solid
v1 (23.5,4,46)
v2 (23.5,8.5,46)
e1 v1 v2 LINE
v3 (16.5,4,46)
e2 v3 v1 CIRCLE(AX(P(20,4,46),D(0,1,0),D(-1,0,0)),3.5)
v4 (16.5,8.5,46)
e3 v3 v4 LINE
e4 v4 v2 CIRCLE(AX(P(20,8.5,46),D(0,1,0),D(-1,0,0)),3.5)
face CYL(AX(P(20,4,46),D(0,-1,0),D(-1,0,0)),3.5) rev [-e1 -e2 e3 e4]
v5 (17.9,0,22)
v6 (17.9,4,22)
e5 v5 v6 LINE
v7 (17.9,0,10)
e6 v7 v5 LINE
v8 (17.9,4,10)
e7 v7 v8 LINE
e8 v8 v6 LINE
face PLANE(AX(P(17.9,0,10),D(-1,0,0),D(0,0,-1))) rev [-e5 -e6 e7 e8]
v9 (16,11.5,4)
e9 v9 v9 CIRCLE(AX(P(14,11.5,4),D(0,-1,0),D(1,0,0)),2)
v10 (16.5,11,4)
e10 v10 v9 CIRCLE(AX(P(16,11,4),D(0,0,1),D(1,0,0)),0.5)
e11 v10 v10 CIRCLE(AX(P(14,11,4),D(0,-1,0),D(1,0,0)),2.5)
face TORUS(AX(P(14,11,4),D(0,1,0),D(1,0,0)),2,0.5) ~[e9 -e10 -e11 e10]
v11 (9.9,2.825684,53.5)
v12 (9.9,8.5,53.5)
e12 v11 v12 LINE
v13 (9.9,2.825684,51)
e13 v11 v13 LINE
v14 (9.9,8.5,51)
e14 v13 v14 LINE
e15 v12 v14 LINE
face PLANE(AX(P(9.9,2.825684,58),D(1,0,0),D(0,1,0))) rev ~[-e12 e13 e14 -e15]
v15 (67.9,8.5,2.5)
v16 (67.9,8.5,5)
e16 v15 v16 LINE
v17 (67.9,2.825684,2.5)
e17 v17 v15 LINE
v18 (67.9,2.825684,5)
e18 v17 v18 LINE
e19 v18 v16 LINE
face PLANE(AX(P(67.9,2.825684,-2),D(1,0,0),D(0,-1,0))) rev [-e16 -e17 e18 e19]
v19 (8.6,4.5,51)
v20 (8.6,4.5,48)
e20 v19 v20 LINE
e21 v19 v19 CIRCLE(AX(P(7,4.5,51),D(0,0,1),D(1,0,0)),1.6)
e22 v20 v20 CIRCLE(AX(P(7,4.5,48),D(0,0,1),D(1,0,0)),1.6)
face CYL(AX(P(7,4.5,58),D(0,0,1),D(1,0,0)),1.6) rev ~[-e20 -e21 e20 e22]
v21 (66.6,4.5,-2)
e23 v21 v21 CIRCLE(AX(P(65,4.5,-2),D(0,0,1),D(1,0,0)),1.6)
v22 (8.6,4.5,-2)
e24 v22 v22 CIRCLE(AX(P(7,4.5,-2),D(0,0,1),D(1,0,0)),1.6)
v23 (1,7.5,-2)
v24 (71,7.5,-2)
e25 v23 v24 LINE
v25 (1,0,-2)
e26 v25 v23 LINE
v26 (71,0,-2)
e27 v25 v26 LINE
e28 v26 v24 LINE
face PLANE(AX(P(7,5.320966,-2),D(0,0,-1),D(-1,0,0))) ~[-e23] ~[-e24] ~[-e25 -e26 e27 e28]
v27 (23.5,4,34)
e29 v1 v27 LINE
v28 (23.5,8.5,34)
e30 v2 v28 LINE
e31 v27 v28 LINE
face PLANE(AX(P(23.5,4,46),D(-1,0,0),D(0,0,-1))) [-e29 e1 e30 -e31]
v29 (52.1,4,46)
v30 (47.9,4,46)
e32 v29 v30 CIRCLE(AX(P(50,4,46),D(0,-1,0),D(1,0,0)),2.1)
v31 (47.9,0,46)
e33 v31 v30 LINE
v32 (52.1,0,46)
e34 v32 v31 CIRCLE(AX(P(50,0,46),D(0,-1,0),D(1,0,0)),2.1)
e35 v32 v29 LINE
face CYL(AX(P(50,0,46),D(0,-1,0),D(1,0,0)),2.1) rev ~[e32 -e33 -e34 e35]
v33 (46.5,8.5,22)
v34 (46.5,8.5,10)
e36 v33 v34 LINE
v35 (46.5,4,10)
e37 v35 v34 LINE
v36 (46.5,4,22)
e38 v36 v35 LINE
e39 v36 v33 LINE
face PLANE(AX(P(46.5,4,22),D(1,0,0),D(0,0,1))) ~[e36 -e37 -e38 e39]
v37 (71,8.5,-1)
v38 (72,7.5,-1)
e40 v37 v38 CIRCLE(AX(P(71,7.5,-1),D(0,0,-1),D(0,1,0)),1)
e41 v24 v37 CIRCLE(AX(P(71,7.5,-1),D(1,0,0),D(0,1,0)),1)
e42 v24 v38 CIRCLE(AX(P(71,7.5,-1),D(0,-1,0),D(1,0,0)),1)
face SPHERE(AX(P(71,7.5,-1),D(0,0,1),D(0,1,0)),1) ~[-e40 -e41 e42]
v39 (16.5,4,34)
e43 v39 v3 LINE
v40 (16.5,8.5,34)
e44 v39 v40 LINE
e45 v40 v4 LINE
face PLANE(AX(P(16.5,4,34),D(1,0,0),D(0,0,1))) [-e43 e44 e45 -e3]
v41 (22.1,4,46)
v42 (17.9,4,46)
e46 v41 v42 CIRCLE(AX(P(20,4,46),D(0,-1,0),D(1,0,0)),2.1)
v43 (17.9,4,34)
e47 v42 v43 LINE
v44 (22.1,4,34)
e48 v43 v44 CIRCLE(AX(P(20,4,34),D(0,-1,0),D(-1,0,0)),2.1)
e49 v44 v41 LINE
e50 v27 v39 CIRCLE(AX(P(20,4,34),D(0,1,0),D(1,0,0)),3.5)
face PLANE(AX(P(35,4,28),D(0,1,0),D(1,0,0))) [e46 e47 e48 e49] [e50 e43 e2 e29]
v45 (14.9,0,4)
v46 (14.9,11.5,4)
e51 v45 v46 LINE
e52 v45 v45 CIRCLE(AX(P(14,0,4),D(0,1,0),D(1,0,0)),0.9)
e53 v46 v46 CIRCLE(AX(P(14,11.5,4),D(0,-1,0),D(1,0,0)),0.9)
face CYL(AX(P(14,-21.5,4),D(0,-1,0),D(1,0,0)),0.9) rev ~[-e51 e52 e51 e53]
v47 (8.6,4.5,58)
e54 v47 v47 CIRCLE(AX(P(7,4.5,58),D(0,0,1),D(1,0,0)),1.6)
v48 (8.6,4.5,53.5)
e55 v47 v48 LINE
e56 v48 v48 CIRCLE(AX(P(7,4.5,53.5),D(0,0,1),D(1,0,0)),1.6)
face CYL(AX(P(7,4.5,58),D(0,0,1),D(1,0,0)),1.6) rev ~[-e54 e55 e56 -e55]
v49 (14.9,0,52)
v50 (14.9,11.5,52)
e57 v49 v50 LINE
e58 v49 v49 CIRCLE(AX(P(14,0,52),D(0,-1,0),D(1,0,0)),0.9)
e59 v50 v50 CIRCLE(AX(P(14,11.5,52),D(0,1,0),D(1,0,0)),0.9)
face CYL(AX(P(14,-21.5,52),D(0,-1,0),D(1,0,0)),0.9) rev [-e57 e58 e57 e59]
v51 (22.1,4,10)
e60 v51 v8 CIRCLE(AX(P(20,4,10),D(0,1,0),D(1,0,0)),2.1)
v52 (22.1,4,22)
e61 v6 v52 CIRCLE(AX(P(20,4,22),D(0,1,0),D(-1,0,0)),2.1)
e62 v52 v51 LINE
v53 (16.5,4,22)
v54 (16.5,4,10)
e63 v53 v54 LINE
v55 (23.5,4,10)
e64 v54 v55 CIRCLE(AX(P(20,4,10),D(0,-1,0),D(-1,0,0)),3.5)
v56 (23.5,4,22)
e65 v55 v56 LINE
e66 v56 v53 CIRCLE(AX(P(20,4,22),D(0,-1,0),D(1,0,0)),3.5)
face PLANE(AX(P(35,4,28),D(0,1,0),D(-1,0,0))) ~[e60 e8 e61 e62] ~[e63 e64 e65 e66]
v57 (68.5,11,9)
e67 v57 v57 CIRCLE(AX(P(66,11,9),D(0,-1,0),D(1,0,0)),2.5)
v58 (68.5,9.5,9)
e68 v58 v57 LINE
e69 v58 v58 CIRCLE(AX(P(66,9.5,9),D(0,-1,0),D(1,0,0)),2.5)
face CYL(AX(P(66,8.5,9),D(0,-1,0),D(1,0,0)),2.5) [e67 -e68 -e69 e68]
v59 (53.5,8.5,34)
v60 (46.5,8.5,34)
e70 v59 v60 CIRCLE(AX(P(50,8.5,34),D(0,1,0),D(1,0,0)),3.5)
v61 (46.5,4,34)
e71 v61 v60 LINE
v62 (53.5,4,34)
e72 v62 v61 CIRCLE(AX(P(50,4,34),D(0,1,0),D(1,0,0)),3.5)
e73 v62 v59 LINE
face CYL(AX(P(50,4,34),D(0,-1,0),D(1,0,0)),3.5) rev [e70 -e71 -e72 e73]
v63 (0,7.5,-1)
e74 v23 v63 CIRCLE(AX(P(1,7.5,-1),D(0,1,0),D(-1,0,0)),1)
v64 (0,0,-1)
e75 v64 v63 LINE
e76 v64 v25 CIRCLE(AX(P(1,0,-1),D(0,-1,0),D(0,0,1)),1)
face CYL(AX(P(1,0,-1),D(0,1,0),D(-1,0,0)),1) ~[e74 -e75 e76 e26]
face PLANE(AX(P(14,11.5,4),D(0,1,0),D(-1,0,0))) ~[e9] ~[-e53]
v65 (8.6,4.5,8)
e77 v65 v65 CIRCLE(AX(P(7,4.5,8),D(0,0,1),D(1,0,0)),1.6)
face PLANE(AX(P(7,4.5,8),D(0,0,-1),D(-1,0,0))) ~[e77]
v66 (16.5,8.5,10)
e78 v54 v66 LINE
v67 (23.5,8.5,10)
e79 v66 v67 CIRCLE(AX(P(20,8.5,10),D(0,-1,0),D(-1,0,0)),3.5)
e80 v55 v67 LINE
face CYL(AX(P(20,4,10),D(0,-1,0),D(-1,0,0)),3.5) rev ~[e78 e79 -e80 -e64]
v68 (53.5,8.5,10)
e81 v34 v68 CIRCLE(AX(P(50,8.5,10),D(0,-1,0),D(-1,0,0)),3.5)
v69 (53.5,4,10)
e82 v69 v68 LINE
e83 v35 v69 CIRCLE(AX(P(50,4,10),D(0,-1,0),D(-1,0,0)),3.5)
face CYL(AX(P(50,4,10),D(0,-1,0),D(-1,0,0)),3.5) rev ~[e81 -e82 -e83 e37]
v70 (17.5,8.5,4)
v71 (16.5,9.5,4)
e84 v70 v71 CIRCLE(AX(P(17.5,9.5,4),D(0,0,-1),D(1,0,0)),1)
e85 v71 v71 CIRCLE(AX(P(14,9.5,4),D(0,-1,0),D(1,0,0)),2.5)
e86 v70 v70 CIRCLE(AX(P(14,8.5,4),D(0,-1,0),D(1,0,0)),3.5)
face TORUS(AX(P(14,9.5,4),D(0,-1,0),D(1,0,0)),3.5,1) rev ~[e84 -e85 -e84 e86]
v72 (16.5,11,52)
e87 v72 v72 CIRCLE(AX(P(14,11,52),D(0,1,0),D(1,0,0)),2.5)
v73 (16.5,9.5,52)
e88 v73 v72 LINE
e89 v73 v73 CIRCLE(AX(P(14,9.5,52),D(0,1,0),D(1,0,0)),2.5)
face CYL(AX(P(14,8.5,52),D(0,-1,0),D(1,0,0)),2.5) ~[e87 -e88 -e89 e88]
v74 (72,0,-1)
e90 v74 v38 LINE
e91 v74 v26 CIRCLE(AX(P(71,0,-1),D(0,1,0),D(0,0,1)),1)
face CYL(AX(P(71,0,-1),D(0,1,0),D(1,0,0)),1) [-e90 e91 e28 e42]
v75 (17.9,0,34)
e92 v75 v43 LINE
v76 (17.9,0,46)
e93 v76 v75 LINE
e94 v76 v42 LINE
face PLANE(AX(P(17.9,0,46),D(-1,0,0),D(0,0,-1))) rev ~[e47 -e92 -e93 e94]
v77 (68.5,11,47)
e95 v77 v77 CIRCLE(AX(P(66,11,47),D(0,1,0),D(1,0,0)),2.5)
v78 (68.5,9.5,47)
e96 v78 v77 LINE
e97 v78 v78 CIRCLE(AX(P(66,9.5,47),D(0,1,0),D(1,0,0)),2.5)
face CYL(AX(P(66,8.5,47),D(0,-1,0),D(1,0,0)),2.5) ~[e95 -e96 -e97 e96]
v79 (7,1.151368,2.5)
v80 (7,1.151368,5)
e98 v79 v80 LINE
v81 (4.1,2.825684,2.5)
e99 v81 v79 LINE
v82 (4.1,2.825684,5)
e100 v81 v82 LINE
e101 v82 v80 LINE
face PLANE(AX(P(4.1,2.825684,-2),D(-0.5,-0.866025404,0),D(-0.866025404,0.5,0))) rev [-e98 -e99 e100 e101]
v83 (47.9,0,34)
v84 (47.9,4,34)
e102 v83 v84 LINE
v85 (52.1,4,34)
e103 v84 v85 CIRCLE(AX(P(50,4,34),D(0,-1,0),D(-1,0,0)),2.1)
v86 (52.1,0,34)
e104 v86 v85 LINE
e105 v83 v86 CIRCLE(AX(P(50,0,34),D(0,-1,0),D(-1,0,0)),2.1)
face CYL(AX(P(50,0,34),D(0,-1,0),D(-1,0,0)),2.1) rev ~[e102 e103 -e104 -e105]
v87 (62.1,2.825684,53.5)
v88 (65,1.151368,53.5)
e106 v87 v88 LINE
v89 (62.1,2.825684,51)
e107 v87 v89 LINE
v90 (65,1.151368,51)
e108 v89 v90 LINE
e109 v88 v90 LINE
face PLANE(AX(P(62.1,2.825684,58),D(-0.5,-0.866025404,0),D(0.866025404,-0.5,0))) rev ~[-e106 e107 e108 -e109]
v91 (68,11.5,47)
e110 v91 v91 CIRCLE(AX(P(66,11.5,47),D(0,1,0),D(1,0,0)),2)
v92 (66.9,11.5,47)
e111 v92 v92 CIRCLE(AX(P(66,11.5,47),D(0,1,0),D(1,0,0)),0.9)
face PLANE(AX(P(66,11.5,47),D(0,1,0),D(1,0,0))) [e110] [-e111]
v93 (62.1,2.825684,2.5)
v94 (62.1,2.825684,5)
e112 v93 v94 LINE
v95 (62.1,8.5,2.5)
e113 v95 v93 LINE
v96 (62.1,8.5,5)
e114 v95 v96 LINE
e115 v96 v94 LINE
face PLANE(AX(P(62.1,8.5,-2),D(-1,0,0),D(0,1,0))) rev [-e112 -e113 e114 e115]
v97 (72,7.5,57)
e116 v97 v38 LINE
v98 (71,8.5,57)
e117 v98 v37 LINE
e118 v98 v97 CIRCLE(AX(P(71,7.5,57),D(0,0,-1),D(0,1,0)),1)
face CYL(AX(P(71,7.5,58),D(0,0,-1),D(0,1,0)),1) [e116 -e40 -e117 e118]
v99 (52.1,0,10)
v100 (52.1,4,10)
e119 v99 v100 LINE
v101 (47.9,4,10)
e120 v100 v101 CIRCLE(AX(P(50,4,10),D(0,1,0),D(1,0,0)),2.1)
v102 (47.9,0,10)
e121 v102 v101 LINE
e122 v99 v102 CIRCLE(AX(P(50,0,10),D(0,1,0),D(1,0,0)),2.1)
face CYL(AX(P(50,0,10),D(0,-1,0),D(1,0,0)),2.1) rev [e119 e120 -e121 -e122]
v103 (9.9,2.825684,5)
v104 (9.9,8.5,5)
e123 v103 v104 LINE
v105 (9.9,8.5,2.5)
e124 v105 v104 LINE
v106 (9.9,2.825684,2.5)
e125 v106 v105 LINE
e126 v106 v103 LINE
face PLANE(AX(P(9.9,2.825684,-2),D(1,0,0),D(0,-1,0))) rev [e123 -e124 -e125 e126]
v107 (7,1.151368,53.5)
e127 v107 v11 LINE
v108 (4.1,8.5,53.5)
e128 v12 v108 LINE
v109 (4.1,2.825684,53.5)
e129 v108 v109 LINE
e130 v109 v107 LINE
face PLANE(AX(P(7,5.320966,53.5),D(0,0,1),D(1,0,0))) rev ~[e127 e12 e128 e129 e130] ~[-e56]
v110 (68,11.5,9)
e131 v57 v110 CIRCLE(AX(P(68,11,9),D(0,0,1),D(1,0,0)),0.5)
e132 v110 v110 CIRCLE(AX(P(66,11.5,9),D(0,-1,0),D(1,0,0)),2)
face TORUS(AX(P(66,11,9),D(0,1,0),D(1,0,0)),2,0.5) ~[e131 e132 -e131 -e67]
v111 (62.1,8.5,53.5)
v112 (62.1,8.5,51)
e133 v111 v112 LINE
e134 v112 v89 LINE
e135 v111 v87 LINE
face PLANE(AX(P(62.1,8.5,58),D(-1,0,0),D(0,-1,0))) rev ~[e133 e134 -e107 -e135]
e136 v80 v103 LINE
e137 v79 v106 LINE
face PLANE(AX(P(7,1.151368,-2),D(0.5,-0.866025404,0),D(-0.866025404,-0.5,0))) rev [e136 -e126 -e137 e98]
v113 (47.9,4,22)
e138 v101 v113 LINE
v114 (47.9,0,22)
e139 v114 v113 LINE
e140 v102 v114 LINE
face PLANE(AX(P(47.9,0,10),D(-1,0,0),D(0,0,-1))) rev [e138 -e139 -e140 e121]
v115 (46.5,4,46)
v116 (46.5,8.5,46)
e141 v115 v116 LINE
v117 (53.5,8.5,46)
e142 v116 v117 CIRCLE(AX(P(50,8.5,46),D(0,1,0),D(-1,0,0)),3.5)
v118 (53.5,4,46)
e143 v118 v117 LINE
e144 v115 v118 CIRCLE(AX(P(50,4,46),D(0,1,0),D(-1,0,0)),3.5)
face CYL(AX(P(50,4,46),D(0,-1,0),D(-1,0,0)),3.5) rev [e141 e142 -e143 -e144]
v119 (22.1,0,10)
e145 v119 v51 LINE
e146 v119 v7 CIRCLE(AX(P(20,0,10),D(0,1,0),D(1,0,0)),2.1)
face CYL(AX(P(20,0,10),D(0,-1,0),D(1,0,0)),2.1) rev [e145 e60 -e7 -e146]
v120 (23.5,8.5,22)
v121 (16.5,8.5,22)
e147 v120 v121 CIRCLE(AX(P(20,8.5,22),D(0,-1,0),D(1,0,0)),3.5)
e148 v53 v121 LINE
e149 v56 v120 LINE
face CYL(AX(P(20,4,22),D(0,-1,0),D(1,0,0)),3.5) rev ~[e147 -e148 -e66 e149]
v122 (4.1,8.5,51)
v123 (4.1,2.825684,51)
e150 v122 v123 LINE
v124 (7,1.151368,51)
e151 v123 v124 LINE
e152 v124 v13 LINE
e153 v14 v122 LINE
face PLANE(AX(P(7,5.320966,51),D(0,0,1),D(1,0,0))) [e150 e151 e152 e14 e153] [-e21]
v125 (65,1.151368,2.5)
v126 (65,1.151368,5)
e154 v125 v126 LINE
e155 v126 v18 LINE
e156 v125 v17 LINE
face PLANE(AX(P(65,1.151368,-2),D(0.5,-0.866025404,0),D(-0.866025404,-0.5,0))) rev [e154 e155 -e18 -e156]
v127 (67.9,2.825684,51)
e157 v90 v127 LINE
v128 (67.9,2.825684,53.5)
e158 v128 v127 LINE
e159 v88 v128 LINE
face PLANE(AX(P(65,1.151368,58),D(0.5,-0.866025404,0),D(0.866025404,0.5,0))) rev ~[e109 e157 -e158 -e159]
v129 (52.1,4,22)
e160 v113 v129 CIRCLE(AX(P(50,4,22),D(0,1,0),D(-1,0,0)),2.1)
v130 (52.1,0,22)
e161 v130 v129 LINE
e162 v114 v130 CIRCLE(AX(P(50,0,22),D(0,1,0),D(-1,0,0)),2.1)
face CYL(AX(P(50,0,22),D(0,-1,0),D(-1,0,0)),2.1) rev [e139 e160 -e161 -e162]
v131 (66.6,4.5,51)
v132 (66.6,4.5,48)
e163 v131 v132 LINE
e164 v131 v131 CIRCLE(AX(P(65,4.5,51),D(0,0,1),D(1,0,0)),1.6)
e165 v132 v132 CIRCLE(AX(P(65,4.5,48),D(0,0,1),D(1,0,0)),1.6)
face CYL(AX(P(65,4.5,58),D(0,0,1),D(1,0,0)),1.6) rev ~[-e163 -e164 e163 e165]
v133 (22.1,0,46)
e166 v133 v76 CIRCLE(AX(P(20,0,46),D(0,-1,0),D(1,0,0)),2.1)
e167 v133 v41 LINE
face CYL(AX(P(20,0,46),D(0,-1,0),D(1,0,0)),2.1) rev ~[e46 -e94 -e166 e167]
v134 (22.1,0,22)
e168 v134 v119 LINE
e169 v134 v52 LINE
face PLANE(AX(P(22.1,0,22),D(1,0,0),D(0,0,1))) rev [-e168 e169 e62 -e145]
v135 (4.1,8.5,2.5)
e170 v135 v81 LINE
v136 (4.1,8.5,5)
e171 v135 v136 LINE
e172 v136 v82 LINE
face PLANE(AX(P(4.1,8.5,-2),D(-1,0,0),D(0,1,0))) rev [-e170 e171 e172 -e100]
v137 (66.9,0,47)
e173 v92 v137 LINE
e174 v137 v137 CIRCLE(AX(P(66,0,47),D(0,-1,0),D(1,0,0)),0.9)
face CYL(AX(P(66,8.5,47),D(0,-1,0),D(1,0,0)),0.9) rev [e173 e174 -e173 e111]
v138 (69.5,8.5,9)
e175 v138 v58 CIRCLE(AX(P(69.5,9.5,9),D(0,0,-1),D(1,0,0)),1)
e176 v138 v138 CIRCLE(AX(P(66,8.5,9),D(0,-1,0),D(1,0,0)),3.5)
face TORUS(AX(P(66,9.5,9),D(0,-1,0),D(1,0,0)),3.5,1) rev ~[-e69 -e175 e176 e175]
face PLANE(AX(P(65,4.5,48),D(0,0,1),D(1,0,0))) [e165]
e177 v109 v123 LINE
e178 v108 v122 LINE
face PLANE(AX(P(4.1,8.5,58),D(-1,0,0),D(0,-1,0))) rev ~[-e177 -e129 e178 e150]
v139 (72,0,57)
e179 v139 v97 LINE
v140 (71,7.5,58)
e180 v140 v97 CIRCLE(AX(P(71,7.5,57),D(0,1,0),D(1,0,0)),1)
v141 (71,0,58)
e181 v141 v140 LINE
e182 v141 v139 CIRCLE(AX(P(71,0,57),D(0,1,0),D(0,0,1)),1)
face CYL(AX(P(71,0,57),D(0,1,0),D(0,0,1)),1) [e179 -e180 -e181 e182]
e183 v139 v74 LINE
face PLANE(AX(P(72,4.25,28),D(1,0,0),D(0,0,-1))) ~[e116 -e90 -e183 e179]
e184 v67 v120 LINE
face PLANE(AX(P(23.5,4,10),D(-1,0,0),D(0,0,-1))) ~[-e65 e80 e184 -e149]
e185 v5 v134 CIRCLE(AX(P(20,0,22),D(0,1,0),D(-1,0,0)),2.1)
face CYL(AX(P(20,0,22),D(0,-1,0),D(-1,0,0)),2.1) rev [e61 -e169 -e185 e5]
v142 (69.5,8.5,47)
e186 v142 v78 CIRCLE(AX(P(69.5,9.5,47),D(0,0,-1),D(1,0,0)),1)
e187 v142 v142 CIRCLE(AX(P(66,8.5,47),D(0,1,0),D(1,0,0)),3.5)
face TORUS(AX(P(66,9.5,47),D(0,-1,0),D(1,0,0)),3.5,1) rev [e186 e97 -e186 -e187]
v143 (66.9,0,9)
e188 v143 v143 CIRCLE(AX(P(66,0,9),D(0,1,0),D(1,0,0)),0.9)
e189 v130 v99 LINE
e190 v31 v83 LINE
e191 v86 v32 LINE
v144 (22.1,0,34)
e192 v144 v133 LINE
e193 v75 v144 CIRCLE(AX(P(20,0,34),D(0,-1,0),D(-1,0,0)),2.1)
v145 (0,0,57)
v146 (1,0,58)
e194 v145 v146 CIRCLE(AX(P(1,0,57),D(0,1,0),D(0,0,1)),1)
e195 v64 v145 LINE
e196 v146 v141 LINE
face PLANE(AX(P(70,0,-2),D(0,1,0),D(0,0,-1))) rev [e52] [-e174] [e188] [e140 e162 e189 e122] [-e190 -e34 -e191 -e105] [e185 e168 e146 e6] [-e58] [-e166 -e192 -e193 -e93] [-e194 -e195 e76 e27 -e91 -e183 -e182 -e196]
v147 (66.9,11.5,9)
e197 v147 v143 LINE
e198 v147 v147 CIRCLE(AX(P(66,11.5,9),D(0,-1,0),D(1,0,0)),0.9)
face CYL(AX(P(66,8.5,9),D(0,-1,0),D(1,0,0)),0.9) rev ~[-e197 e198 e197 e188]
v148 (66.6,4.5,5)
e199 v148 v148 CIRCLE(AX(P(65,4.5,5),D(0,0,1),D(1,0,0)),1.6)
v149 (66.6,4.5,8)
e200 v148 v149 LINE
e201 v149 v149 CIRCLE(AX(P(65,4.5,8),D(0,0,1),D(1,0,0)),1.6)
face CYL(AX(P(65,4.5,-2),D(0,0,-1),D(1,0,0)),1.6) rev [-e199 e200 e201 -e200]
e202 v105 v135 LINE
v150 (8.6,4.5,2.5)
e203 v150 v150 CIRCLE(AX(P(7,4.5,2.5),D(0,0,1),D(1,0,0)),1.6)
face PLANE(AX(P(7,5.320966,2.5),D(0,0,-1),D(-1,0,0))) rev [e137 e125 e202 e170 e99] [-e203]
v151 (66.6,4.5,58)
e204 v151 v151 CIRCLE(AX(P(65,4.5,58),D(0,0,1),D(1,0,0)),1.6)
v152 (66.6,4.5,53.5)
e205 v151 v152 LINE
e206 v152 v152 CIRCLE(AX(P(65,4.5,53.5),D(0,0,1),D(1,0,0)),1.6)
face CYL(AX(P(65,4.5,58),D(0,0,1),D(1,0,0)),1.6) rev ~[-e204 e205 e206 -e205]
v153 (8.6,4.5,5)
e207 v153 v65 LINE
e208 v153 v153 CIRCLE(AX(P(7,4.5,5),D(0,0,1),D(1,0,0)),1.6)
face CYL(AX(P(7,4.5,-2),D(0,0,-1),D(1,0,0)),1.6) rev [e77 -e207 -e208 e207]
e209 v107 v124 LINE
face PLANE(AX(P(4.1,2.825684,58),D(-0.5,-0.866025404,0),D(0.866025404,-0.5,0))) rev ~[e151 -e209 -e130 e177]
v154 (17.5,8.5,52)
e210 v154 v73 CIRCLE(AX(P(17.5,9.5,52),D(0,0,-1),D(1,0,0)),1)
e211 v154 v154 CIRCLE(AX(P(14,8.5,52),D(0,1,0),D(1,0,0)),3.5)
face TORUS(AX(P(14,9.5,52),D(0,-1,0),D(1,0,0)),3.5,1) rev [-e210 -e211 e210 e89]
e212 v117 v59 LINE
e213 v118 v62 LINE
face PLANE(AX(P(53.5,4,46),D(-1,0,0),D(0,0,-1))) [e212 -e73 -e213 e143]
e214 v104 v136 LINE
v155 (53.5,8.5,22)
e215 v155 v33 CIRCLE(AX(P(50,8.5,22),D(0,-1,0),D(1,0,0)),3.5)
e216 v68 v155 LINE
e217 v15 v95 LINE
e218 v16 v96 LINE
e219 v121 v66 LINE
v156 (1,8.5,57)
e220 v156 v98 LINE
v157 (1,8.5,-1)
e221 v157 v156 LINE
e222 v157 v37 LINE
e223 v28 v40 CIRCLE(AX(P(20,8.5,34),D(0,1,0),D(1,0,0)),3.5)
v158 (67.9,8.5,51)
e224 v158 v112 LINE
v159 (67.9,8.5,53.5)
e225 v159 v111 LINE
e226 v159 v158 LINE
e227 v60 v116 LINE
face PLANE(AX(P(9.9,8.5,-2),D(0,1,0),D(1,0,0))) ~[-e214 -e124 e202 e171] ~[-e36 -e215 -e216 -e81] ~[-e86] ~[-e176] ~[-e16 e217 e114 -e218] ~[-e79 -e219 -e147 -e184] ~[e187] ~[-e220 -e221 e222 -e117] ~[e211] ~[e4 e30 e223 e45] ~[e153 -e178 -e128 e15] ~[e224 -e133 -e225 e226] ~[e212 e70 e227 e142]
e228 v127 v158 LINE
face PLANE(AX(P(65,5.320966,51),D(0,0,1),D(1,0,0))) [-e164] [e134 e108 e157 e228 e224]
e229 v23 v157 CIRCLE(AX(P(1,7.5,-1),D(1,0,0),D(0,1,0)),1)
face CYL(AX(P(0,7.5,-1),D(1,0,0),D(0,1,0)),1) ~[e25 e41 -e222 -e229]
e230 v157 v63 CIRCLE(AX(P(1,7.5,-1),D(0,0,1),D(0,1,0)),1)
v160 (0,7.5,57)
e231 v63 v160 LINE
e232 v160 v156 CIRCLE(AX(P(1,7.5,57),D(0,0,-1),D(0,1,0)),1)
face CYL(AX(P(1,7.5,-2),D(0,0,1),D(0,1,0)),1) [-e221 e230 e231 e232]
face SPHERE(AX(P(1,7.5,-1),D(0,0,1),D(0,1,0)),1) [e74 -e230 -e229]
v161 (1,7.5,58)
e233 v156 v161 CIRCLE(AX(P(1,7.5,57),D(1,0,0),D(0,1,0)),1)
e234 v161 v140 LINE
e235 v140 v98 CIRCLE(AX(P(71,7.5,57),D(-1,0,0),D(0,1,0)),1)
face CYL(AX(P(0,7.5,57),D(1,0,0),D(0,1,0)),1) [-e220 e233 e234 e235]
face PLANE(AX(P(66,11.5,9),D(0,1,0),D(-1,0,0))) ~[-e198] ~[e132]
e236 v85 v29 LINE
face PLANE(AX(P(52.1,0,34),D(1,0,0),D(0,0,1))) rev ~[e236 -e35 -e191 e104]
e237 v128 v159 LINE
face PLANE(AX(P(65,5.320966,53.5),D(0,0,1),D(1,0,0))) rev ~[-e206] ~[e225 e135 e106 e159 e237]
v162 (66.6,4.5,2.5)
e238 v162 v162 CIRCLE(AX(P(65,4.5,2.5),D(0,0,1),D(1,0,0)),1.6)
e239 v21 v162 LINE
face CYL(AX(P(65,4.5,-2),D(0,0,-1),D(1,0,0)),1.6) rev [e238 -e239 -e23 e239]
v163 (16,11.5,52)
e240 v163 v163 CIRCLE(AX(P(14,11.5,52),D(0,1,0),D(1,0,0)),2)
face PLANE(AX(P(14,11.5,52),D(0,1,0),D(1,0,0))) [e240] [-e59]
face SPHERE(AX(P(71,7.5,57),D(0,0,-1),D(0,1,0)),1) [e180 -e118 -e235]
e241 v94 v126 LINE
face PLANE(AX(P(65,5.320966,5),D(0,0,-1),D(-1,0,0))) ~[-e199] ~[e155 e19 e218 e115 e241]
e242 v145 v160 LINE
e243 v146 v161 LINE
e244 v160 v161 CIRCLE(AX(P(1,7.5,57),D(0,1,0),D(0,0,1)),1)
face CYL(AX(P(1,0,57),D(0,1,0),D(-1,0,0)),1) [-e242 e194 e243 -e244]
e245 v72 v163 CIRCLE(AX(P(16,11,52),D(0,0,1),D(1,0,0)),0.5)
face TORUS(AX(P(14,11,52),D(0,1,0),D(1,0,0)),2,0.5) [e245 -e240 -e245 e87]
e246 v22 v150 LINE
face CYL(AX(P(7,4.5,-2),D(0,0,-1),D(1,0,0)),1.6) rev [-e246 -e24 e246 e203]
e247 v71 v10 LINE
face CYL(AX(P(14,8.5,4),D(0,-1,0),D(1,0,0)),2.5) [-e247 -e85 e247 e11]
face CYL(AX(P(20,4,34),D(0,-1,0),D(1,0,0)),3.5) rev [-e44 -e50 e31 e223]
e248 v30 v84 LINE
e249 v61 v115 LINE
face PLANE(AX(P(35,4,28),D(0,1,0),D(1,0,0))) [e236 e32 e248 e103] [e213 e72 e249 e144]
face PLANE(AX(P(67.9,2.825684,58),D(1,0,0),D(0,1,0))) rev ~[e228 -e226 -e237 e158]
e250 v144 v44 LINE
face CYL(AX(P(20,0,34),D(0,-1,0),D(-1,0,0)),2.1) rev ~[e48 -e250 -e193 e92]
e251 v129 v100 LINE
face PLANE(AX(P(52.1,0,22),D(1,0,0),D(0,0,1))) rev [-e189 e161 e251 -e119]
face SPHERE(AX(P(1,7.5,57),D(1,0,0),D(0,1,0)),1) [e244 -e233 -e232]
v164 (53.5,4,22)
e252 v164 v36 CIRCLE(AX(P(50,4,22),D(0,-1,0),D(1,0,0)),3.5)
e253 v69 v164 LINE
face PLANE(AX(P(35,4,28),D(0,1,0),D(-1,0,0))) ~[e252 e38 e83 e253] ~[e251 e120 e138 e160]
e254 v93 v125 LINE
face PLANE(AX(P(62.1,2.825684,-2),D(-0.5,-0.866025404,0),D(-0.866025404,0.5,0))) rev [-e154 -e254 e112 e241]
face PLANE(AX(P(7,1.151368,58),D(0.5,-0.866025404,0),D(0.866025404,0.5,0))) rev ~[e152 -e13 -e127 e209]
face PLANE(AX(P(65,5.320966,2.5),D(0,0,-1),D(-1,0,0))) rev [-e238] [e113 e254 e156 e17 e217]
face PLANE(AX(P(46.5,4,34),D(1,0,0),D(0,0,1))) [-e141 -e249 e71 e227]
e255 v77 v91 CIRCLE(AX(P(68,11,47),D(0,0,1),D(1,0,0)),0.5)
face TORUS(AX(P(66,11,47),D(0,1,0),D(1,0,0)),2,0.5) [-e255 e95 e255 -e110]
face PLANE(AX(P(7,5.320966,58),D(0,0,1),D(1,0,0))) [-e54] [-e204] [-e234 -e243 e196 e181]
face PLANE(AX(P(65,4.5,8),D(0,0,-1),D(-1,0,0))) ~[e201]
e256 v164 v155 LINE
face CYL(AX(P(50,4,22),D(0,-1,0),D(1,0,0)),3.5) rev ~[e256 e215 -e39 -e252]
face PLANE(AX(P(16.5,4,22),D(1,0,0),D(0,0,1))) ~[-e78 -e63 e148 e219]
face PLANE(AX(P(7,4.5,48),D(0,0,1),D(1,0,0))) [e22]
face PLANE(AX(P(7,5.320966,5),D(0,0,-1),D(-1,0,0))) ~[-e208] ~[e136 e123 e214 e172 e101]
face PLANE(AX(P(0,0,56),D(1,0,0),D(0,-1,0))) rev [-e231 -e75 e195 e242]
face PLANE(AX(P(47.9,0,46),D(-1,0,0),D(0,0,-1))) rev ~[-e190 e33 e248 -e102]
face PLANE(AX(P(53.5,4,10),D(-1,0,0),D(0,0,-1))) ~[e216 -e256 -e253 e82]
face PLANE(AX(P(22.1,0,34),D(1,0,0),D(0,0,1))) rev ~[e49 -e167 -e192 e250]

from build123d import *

# Parameters (mm, degrees)
SKETCH1_W           = 70
SKETCH1_H           = 56
BOSS_EXTRUDE1_DEPTH = 4
SKETCH2_W           = 70
SKETCH2_H           = 56
BOSS_EXTRUDE2_DEPTH = 4.5
SKETCH5_W           = 70
SKETCH5_H           = 8.5
BOSS_EXTRUDE3_DEPTH = 2
SKETCH6_W           = 70
SKETCH6_H           = 8.5
BOSS_EXTRUDE4_DEPTH = 2
SKETCH7_R           = 2.5
SKETCH7_R_2         = 0.9
BOSS_EXTRUDE5_DEPTH = 3
FILLET2_R           = 1
FILLET4_R           = 0.5
CUT_EXTRUDE6_START  = -30
SKETCH7_4_R         = 0.9
CUT_EXTRUDE6_DEPTH  = 30
SKETCH8_W           = 60
SKETCH8_H           = 8.5
BOSS_EXTRUDE6_DEPTH = 2
CUT_EXTRUDE2_DEPTH  = 7
SKETCH9_8_R         = 1.6
BOSS_EXTRUDE8_DEPTH = 4.5
SKETCH9_9_R         = 1.6
CUT_EXTRUDE4_DEPTH  = 10
SKETCH11_W          = 74.912856335
SKETCH11_H          = 22.458830191
CUT_EXTRUDE5_DEPTH  = 30
FILLET5_R           = 1


with BuildPart() as part:
    # Sketch1 → Boss-Extrude1 (new body)
    with BuildSketch(Plane(origin=(0, 0, 0), x_dir=(1, 0, 0), z_dir=(0, 1, 0))):
        with Locations((35, -28)):
            Rectangle(SKETCH1_W, SKETCH1_H)
        with BuildLine():
            ThreePointArc((52.1, -22), (50, -24.1), (47.9, -22))
            Line((47.9, -22), (47.9, -10))
            ThreePointArc((47.9, -10), (50, -7.9), (52.1, -10))
            Line((52.1, -10), (52.1, -22))
        make_face(mode=Mode.SUBTRACT)
        with BuildLine():
            ThreePointArc((52.1, -46), (50, -48.1), (47.9, -46))
            Line((47.9, -46), (47.9, -34))
            ThreePointArc((47.9, -34), (50, -31.9), (52.1, -34))
            Line((52.1, -34), (52.1, -46))
        make_face(mode=Mode.SUBTRACT)
        with BuildLine():
            ThreePointArc((17.9, -10), (20, -7.9), (22.1, -10))
            Line((22.1, -10), (22.1, -22))
            ThreePointArc((22.1, -22), (20, -24.1), (17.9, -22))
            Line((17.9, -22), (17.9, -10))
        make_face(mode=Mode.SUBTRACT)
        with BuildLine():
            Line((22.1, -34), (22.1, -46))
            ThreePointArc((22.1, -46), (20, -48.1), (17.9, -46))
            Line((17.9, -46), (17.9, -34))
            ThreePointArc((17.9, -34), (20, -31.9), (22.1, -34))
        make_face(mode=Mode.SUBTRACT)
    extrude(amount=BOSS_EXTRUDE1_DEPTH)

    # Sketch2 → Boss-Extrude2 (add)
    with BuildSketch(Plane(origin=(0, 4, 0), x_dir=(1, 0, 0), z_dir=(0, 1, 0))):
        with Locations((35, -28)):
            Rectangle(SKETCH2_W, SKETCH2_H)
        with BuildLine():
            Line((23.5, -22), (23.5, -10))
            ThreePointArc((23.5, -10), (20, -6.5), (16.5, -10))
            Line((16.5, -10), (16.5, -22))
            ThreePointArc((16.5, -22), (20, -25.5), (23.5, -22))
        make_face(mode=Mode.SUBTRACT)
        with BuildLine():
            Line((46.5, -10), (46.5, -22))
            ThreePointArc((46.5, -22), (50, -25.5), (53.5, -22))
            Line((53.5, -22), (53.5, -10))
            ThreePointArc((53.5, -10), (50, -6.5), (46.5, -10))
        make_face(mode=Mode.SUBTRACT)
        with BuildLine():
            Line((16.5, -34), (16.5, -46))
            ThreePointArc((16.5, -46), (20, -49.5), (23.5, -46))
            Line((23.5, -46), (23.5, -34))
            ThreePointArc((23.5, -34), (20, -30.5), (16.5, -34))
        make_face(mode=Mode.SUBTRACT)
        with BuildLine():
            Line((46.5, -34), (46.5, -46))
            ThreePointArc((46.5, -46), (50, -49.5), (53.5, -46))
            Line((53.5, -46), (53.5, -34))
            ThreePointArc((53.5, -34), (50, -30.5), (46.5, -34))
        make_face(mode=Mode.SUBTRACT)
    extrude(amount=BOSS_EXTRUDE2_DEPTH)

    # Sketch5 → Boss-Extrude3 (add)
    with BuildSketch(Plane.XY.offset(56)):
        with Locations((35, 4.25)):
            Rectangle(SKETCH5_W, SKETCH5_H)
    extrude(amount=BOSS_EXTRUDE3_DEPTH)

    # Sketch6 → Boss-Extrude4 (add)
    with BuildSketch(Plane(origin=(0, 0, 0), x_dir=(-1, 0, 0), z_dir=(0, 0, -1))):
        with Locations((-35, 4.25)):
            Rectangle(SKETCH6_W, SKETCH6_H)
    extrude(amount=BOSS_EXTRUDE4_DEPTH)

    # Sketch7 → Boss-Extrude5 (add)
    # profile 1 of 4: a face of its own
    with BuildSketch(Plane(origin=(0, 8.5, 0), x_dir=(1, 0, 0), z_dir=(0, 1, 0))):
        with Locations((14, -4)):
            Circle(SKETCH7_R)
        with Locations((14, -4)):
            Circle(SKETCH7_R_2, mode=Mode.SUBTRACT)
    # profile 2 of 4: a face of its own
    with BuildSketch(Plane(origin=(0, 8.5, 0), x_dir=(1, 0, 0), z_dir=(0, 1, 0))):
        with Locations((14, -52)):
            Circle(SKETCH7_R)
        with Locations((14, -52)):
            Circle(SKETCH7_R_2, mode=Mode.SUBTRACT)
    # profile 3 of 4: a face of its own
    with BuildSketch(Plane(origin=(0, 8.5, 0), x_dir=(1, 0, 0), z_dir=(0, 1, 0))):
        with Locations((66, -47)):
            Circle(SKETCH7_R)
        with Locations((66, -47)):
            Circle(SKETCH7_R_2, mode=Mode.SUBTRACT)
    # profile 4 of 4: a face of its own
    with BuildSketch(Plane(origin=(0, 8.5, 0), x_dir=(1, 0, 0), z_dir=(0, 1, 0))):
        with Locations((39.372259971, -13.674819386)):
            Circle(SKETCH7_R)
    extrude(amount=BOSS_EXTRUDE5_DEPTH)

    # Fillet2
    fillet2_edges = [part.edges().sort_by_distance(p)[0] for p in [
        (63.5, 8.5, 47),
        (36.872259971, 8.5, 13.674819386),
        (11.5, 8.5, 52),
        (11.5, 8.5, 4),
    ]]
    fillet(fillet2_edges, radius=FILLET2_R)

    # Fillet4
    fillet4_edges = [part.edges().sort_by_distance(p)[0] for p in [
        (63.5, 11.5, 47),
        (36.872259971, 11.5, 13.674819386),
        (11.5, 11.5, 52),
        (11.5, 11.5, 4),
    ]]
    fillet(fillet4_edges, radius=FILLET4_R)

    # Sketch7<4> → Cut-Extrude6 (cut)
    with BuildSketch(Plane(origin=(0, 8.5, 0), x_dir=(1, 0, 0), z_dir=(0, 1, 0)).offset(CUT_EXTRUDE6_START)):
        with Locations((14, -52)):
            Circle(SKETCH7_4_R)
        with Locations((66, -47)):
            Circle(SKETCH7_4_R)
    extrude(amount=CUT_EXTRUDE6_DEPTH, mode=Mode.SUBTRACT)

    # Sketch8 → Boss-Extrude6 (add)
    with BuildSketch(Plane(origin=(70, 0, 0), x_dir=(0, 0, -1), z_dir=(1, 0, 0))):
        with Locations((-28, 4.25)):
            Rectangle(SKETCH8_W, SKETCH8_H)
    extrude(amount=BOSS_EXTRUDE6_DEPTH)

    # Sketch9 → Cut-Extrude2 (cut)
    with BuildSketch(Plane.XY.offset(58)):
        Polygon((4.1, 2.825684219), (7, 1.151368439), (9.9, 2.825684219), (9.9, 8.5), (4.1, 8.5), align=None)
        Polygon((67.9, 8.5), (62.1, 8.5), (62.1, 2.825684219), (65, 1.151368439), (67.9, 2.825684219), align=None)
    extrude(amount=-CUT_EXTRUDE2_DEPTH, mode=Mode.SUBTRACT)

    # Sketch9<8> → Boss-Extrude8 (add)
    # profile 1 of 2: a face of its own
    with BuildSketch(Plane.XY.offset(58)):
        Polygon((4.1, 2.825684219), (7, 1.151368439), (9.9, 2.825684219), (9.9, 8.5), (4.1, 8.5), align=None)
        with Locations((7, 4.5)):
            Circle(SKETCH9_8_R, mode=Mode.SUBTRACT)
    # profile 2 of 2: a face of its own
    with BuildSketch(Plane.XY.offset(58)):
        Polygon((67.9, 8.5), (62.1, 8.5), (62.1, 2.825684219), (65, 1.151368439), (67.9, 2.825684219), align=None)
        with Locations((65, 4.5)):
            Circle(SKETCH9_8_R, mode=Mode.SUBTRACT)
    extrude(amount=-BOSS_EXTRUDE8_DEPTH)

    # Sketch9<9> → Cut-Extrude4 (cut)
    with BuildSketch(Plane.XY.offset(58)):
        with Locations((7, 4.5)):
            Circle(SKETCH9_9_R)
        with Locations((65, 4.5)):
            Circle(SKETCH9_9_R)
    extrude(amount=-CUT_EXTRUDE4_DEPTH, mode=Mode.SUBTRACT)

    # Sketch11 → Cut-Extrude5 (cut)
    with BuildSketch(Plane(origin=(0, 0, -2), x_dir=(-1, 0, 0), z_dir=(0, 0, -1))):
        with Locations((-34.543571832, 11.229415096)):
            Rectangle(SKETCH11_W, SKETCH11_H)
    extrude(amount=-CUT_EXTRUDE5_DEPTH, mode=Mode.SUBTRACT)

    # Mirror2: part across plane


with BuildPart() as part_1:
    add(part.part)
    add(part.part.mirror(Plane.XY.offset(28)))

    # Fillet5
    fillet5_edges = [part_1.edges().sort_by_distance(p)[0] for p in [
        (72, 8.5, 28),
        (36, 8.5, 58),
        (0, 8.5, 28),
        (36, 8.5, -2),
        (0, 4.25, -2),
        (72, 4.25, -2),
        (72, 4.25, 58),
        (0, 4.25, 58),
    ]]
    fillet(fillet5_edges, radius=FILLET5_R)


solid = part_1.part
